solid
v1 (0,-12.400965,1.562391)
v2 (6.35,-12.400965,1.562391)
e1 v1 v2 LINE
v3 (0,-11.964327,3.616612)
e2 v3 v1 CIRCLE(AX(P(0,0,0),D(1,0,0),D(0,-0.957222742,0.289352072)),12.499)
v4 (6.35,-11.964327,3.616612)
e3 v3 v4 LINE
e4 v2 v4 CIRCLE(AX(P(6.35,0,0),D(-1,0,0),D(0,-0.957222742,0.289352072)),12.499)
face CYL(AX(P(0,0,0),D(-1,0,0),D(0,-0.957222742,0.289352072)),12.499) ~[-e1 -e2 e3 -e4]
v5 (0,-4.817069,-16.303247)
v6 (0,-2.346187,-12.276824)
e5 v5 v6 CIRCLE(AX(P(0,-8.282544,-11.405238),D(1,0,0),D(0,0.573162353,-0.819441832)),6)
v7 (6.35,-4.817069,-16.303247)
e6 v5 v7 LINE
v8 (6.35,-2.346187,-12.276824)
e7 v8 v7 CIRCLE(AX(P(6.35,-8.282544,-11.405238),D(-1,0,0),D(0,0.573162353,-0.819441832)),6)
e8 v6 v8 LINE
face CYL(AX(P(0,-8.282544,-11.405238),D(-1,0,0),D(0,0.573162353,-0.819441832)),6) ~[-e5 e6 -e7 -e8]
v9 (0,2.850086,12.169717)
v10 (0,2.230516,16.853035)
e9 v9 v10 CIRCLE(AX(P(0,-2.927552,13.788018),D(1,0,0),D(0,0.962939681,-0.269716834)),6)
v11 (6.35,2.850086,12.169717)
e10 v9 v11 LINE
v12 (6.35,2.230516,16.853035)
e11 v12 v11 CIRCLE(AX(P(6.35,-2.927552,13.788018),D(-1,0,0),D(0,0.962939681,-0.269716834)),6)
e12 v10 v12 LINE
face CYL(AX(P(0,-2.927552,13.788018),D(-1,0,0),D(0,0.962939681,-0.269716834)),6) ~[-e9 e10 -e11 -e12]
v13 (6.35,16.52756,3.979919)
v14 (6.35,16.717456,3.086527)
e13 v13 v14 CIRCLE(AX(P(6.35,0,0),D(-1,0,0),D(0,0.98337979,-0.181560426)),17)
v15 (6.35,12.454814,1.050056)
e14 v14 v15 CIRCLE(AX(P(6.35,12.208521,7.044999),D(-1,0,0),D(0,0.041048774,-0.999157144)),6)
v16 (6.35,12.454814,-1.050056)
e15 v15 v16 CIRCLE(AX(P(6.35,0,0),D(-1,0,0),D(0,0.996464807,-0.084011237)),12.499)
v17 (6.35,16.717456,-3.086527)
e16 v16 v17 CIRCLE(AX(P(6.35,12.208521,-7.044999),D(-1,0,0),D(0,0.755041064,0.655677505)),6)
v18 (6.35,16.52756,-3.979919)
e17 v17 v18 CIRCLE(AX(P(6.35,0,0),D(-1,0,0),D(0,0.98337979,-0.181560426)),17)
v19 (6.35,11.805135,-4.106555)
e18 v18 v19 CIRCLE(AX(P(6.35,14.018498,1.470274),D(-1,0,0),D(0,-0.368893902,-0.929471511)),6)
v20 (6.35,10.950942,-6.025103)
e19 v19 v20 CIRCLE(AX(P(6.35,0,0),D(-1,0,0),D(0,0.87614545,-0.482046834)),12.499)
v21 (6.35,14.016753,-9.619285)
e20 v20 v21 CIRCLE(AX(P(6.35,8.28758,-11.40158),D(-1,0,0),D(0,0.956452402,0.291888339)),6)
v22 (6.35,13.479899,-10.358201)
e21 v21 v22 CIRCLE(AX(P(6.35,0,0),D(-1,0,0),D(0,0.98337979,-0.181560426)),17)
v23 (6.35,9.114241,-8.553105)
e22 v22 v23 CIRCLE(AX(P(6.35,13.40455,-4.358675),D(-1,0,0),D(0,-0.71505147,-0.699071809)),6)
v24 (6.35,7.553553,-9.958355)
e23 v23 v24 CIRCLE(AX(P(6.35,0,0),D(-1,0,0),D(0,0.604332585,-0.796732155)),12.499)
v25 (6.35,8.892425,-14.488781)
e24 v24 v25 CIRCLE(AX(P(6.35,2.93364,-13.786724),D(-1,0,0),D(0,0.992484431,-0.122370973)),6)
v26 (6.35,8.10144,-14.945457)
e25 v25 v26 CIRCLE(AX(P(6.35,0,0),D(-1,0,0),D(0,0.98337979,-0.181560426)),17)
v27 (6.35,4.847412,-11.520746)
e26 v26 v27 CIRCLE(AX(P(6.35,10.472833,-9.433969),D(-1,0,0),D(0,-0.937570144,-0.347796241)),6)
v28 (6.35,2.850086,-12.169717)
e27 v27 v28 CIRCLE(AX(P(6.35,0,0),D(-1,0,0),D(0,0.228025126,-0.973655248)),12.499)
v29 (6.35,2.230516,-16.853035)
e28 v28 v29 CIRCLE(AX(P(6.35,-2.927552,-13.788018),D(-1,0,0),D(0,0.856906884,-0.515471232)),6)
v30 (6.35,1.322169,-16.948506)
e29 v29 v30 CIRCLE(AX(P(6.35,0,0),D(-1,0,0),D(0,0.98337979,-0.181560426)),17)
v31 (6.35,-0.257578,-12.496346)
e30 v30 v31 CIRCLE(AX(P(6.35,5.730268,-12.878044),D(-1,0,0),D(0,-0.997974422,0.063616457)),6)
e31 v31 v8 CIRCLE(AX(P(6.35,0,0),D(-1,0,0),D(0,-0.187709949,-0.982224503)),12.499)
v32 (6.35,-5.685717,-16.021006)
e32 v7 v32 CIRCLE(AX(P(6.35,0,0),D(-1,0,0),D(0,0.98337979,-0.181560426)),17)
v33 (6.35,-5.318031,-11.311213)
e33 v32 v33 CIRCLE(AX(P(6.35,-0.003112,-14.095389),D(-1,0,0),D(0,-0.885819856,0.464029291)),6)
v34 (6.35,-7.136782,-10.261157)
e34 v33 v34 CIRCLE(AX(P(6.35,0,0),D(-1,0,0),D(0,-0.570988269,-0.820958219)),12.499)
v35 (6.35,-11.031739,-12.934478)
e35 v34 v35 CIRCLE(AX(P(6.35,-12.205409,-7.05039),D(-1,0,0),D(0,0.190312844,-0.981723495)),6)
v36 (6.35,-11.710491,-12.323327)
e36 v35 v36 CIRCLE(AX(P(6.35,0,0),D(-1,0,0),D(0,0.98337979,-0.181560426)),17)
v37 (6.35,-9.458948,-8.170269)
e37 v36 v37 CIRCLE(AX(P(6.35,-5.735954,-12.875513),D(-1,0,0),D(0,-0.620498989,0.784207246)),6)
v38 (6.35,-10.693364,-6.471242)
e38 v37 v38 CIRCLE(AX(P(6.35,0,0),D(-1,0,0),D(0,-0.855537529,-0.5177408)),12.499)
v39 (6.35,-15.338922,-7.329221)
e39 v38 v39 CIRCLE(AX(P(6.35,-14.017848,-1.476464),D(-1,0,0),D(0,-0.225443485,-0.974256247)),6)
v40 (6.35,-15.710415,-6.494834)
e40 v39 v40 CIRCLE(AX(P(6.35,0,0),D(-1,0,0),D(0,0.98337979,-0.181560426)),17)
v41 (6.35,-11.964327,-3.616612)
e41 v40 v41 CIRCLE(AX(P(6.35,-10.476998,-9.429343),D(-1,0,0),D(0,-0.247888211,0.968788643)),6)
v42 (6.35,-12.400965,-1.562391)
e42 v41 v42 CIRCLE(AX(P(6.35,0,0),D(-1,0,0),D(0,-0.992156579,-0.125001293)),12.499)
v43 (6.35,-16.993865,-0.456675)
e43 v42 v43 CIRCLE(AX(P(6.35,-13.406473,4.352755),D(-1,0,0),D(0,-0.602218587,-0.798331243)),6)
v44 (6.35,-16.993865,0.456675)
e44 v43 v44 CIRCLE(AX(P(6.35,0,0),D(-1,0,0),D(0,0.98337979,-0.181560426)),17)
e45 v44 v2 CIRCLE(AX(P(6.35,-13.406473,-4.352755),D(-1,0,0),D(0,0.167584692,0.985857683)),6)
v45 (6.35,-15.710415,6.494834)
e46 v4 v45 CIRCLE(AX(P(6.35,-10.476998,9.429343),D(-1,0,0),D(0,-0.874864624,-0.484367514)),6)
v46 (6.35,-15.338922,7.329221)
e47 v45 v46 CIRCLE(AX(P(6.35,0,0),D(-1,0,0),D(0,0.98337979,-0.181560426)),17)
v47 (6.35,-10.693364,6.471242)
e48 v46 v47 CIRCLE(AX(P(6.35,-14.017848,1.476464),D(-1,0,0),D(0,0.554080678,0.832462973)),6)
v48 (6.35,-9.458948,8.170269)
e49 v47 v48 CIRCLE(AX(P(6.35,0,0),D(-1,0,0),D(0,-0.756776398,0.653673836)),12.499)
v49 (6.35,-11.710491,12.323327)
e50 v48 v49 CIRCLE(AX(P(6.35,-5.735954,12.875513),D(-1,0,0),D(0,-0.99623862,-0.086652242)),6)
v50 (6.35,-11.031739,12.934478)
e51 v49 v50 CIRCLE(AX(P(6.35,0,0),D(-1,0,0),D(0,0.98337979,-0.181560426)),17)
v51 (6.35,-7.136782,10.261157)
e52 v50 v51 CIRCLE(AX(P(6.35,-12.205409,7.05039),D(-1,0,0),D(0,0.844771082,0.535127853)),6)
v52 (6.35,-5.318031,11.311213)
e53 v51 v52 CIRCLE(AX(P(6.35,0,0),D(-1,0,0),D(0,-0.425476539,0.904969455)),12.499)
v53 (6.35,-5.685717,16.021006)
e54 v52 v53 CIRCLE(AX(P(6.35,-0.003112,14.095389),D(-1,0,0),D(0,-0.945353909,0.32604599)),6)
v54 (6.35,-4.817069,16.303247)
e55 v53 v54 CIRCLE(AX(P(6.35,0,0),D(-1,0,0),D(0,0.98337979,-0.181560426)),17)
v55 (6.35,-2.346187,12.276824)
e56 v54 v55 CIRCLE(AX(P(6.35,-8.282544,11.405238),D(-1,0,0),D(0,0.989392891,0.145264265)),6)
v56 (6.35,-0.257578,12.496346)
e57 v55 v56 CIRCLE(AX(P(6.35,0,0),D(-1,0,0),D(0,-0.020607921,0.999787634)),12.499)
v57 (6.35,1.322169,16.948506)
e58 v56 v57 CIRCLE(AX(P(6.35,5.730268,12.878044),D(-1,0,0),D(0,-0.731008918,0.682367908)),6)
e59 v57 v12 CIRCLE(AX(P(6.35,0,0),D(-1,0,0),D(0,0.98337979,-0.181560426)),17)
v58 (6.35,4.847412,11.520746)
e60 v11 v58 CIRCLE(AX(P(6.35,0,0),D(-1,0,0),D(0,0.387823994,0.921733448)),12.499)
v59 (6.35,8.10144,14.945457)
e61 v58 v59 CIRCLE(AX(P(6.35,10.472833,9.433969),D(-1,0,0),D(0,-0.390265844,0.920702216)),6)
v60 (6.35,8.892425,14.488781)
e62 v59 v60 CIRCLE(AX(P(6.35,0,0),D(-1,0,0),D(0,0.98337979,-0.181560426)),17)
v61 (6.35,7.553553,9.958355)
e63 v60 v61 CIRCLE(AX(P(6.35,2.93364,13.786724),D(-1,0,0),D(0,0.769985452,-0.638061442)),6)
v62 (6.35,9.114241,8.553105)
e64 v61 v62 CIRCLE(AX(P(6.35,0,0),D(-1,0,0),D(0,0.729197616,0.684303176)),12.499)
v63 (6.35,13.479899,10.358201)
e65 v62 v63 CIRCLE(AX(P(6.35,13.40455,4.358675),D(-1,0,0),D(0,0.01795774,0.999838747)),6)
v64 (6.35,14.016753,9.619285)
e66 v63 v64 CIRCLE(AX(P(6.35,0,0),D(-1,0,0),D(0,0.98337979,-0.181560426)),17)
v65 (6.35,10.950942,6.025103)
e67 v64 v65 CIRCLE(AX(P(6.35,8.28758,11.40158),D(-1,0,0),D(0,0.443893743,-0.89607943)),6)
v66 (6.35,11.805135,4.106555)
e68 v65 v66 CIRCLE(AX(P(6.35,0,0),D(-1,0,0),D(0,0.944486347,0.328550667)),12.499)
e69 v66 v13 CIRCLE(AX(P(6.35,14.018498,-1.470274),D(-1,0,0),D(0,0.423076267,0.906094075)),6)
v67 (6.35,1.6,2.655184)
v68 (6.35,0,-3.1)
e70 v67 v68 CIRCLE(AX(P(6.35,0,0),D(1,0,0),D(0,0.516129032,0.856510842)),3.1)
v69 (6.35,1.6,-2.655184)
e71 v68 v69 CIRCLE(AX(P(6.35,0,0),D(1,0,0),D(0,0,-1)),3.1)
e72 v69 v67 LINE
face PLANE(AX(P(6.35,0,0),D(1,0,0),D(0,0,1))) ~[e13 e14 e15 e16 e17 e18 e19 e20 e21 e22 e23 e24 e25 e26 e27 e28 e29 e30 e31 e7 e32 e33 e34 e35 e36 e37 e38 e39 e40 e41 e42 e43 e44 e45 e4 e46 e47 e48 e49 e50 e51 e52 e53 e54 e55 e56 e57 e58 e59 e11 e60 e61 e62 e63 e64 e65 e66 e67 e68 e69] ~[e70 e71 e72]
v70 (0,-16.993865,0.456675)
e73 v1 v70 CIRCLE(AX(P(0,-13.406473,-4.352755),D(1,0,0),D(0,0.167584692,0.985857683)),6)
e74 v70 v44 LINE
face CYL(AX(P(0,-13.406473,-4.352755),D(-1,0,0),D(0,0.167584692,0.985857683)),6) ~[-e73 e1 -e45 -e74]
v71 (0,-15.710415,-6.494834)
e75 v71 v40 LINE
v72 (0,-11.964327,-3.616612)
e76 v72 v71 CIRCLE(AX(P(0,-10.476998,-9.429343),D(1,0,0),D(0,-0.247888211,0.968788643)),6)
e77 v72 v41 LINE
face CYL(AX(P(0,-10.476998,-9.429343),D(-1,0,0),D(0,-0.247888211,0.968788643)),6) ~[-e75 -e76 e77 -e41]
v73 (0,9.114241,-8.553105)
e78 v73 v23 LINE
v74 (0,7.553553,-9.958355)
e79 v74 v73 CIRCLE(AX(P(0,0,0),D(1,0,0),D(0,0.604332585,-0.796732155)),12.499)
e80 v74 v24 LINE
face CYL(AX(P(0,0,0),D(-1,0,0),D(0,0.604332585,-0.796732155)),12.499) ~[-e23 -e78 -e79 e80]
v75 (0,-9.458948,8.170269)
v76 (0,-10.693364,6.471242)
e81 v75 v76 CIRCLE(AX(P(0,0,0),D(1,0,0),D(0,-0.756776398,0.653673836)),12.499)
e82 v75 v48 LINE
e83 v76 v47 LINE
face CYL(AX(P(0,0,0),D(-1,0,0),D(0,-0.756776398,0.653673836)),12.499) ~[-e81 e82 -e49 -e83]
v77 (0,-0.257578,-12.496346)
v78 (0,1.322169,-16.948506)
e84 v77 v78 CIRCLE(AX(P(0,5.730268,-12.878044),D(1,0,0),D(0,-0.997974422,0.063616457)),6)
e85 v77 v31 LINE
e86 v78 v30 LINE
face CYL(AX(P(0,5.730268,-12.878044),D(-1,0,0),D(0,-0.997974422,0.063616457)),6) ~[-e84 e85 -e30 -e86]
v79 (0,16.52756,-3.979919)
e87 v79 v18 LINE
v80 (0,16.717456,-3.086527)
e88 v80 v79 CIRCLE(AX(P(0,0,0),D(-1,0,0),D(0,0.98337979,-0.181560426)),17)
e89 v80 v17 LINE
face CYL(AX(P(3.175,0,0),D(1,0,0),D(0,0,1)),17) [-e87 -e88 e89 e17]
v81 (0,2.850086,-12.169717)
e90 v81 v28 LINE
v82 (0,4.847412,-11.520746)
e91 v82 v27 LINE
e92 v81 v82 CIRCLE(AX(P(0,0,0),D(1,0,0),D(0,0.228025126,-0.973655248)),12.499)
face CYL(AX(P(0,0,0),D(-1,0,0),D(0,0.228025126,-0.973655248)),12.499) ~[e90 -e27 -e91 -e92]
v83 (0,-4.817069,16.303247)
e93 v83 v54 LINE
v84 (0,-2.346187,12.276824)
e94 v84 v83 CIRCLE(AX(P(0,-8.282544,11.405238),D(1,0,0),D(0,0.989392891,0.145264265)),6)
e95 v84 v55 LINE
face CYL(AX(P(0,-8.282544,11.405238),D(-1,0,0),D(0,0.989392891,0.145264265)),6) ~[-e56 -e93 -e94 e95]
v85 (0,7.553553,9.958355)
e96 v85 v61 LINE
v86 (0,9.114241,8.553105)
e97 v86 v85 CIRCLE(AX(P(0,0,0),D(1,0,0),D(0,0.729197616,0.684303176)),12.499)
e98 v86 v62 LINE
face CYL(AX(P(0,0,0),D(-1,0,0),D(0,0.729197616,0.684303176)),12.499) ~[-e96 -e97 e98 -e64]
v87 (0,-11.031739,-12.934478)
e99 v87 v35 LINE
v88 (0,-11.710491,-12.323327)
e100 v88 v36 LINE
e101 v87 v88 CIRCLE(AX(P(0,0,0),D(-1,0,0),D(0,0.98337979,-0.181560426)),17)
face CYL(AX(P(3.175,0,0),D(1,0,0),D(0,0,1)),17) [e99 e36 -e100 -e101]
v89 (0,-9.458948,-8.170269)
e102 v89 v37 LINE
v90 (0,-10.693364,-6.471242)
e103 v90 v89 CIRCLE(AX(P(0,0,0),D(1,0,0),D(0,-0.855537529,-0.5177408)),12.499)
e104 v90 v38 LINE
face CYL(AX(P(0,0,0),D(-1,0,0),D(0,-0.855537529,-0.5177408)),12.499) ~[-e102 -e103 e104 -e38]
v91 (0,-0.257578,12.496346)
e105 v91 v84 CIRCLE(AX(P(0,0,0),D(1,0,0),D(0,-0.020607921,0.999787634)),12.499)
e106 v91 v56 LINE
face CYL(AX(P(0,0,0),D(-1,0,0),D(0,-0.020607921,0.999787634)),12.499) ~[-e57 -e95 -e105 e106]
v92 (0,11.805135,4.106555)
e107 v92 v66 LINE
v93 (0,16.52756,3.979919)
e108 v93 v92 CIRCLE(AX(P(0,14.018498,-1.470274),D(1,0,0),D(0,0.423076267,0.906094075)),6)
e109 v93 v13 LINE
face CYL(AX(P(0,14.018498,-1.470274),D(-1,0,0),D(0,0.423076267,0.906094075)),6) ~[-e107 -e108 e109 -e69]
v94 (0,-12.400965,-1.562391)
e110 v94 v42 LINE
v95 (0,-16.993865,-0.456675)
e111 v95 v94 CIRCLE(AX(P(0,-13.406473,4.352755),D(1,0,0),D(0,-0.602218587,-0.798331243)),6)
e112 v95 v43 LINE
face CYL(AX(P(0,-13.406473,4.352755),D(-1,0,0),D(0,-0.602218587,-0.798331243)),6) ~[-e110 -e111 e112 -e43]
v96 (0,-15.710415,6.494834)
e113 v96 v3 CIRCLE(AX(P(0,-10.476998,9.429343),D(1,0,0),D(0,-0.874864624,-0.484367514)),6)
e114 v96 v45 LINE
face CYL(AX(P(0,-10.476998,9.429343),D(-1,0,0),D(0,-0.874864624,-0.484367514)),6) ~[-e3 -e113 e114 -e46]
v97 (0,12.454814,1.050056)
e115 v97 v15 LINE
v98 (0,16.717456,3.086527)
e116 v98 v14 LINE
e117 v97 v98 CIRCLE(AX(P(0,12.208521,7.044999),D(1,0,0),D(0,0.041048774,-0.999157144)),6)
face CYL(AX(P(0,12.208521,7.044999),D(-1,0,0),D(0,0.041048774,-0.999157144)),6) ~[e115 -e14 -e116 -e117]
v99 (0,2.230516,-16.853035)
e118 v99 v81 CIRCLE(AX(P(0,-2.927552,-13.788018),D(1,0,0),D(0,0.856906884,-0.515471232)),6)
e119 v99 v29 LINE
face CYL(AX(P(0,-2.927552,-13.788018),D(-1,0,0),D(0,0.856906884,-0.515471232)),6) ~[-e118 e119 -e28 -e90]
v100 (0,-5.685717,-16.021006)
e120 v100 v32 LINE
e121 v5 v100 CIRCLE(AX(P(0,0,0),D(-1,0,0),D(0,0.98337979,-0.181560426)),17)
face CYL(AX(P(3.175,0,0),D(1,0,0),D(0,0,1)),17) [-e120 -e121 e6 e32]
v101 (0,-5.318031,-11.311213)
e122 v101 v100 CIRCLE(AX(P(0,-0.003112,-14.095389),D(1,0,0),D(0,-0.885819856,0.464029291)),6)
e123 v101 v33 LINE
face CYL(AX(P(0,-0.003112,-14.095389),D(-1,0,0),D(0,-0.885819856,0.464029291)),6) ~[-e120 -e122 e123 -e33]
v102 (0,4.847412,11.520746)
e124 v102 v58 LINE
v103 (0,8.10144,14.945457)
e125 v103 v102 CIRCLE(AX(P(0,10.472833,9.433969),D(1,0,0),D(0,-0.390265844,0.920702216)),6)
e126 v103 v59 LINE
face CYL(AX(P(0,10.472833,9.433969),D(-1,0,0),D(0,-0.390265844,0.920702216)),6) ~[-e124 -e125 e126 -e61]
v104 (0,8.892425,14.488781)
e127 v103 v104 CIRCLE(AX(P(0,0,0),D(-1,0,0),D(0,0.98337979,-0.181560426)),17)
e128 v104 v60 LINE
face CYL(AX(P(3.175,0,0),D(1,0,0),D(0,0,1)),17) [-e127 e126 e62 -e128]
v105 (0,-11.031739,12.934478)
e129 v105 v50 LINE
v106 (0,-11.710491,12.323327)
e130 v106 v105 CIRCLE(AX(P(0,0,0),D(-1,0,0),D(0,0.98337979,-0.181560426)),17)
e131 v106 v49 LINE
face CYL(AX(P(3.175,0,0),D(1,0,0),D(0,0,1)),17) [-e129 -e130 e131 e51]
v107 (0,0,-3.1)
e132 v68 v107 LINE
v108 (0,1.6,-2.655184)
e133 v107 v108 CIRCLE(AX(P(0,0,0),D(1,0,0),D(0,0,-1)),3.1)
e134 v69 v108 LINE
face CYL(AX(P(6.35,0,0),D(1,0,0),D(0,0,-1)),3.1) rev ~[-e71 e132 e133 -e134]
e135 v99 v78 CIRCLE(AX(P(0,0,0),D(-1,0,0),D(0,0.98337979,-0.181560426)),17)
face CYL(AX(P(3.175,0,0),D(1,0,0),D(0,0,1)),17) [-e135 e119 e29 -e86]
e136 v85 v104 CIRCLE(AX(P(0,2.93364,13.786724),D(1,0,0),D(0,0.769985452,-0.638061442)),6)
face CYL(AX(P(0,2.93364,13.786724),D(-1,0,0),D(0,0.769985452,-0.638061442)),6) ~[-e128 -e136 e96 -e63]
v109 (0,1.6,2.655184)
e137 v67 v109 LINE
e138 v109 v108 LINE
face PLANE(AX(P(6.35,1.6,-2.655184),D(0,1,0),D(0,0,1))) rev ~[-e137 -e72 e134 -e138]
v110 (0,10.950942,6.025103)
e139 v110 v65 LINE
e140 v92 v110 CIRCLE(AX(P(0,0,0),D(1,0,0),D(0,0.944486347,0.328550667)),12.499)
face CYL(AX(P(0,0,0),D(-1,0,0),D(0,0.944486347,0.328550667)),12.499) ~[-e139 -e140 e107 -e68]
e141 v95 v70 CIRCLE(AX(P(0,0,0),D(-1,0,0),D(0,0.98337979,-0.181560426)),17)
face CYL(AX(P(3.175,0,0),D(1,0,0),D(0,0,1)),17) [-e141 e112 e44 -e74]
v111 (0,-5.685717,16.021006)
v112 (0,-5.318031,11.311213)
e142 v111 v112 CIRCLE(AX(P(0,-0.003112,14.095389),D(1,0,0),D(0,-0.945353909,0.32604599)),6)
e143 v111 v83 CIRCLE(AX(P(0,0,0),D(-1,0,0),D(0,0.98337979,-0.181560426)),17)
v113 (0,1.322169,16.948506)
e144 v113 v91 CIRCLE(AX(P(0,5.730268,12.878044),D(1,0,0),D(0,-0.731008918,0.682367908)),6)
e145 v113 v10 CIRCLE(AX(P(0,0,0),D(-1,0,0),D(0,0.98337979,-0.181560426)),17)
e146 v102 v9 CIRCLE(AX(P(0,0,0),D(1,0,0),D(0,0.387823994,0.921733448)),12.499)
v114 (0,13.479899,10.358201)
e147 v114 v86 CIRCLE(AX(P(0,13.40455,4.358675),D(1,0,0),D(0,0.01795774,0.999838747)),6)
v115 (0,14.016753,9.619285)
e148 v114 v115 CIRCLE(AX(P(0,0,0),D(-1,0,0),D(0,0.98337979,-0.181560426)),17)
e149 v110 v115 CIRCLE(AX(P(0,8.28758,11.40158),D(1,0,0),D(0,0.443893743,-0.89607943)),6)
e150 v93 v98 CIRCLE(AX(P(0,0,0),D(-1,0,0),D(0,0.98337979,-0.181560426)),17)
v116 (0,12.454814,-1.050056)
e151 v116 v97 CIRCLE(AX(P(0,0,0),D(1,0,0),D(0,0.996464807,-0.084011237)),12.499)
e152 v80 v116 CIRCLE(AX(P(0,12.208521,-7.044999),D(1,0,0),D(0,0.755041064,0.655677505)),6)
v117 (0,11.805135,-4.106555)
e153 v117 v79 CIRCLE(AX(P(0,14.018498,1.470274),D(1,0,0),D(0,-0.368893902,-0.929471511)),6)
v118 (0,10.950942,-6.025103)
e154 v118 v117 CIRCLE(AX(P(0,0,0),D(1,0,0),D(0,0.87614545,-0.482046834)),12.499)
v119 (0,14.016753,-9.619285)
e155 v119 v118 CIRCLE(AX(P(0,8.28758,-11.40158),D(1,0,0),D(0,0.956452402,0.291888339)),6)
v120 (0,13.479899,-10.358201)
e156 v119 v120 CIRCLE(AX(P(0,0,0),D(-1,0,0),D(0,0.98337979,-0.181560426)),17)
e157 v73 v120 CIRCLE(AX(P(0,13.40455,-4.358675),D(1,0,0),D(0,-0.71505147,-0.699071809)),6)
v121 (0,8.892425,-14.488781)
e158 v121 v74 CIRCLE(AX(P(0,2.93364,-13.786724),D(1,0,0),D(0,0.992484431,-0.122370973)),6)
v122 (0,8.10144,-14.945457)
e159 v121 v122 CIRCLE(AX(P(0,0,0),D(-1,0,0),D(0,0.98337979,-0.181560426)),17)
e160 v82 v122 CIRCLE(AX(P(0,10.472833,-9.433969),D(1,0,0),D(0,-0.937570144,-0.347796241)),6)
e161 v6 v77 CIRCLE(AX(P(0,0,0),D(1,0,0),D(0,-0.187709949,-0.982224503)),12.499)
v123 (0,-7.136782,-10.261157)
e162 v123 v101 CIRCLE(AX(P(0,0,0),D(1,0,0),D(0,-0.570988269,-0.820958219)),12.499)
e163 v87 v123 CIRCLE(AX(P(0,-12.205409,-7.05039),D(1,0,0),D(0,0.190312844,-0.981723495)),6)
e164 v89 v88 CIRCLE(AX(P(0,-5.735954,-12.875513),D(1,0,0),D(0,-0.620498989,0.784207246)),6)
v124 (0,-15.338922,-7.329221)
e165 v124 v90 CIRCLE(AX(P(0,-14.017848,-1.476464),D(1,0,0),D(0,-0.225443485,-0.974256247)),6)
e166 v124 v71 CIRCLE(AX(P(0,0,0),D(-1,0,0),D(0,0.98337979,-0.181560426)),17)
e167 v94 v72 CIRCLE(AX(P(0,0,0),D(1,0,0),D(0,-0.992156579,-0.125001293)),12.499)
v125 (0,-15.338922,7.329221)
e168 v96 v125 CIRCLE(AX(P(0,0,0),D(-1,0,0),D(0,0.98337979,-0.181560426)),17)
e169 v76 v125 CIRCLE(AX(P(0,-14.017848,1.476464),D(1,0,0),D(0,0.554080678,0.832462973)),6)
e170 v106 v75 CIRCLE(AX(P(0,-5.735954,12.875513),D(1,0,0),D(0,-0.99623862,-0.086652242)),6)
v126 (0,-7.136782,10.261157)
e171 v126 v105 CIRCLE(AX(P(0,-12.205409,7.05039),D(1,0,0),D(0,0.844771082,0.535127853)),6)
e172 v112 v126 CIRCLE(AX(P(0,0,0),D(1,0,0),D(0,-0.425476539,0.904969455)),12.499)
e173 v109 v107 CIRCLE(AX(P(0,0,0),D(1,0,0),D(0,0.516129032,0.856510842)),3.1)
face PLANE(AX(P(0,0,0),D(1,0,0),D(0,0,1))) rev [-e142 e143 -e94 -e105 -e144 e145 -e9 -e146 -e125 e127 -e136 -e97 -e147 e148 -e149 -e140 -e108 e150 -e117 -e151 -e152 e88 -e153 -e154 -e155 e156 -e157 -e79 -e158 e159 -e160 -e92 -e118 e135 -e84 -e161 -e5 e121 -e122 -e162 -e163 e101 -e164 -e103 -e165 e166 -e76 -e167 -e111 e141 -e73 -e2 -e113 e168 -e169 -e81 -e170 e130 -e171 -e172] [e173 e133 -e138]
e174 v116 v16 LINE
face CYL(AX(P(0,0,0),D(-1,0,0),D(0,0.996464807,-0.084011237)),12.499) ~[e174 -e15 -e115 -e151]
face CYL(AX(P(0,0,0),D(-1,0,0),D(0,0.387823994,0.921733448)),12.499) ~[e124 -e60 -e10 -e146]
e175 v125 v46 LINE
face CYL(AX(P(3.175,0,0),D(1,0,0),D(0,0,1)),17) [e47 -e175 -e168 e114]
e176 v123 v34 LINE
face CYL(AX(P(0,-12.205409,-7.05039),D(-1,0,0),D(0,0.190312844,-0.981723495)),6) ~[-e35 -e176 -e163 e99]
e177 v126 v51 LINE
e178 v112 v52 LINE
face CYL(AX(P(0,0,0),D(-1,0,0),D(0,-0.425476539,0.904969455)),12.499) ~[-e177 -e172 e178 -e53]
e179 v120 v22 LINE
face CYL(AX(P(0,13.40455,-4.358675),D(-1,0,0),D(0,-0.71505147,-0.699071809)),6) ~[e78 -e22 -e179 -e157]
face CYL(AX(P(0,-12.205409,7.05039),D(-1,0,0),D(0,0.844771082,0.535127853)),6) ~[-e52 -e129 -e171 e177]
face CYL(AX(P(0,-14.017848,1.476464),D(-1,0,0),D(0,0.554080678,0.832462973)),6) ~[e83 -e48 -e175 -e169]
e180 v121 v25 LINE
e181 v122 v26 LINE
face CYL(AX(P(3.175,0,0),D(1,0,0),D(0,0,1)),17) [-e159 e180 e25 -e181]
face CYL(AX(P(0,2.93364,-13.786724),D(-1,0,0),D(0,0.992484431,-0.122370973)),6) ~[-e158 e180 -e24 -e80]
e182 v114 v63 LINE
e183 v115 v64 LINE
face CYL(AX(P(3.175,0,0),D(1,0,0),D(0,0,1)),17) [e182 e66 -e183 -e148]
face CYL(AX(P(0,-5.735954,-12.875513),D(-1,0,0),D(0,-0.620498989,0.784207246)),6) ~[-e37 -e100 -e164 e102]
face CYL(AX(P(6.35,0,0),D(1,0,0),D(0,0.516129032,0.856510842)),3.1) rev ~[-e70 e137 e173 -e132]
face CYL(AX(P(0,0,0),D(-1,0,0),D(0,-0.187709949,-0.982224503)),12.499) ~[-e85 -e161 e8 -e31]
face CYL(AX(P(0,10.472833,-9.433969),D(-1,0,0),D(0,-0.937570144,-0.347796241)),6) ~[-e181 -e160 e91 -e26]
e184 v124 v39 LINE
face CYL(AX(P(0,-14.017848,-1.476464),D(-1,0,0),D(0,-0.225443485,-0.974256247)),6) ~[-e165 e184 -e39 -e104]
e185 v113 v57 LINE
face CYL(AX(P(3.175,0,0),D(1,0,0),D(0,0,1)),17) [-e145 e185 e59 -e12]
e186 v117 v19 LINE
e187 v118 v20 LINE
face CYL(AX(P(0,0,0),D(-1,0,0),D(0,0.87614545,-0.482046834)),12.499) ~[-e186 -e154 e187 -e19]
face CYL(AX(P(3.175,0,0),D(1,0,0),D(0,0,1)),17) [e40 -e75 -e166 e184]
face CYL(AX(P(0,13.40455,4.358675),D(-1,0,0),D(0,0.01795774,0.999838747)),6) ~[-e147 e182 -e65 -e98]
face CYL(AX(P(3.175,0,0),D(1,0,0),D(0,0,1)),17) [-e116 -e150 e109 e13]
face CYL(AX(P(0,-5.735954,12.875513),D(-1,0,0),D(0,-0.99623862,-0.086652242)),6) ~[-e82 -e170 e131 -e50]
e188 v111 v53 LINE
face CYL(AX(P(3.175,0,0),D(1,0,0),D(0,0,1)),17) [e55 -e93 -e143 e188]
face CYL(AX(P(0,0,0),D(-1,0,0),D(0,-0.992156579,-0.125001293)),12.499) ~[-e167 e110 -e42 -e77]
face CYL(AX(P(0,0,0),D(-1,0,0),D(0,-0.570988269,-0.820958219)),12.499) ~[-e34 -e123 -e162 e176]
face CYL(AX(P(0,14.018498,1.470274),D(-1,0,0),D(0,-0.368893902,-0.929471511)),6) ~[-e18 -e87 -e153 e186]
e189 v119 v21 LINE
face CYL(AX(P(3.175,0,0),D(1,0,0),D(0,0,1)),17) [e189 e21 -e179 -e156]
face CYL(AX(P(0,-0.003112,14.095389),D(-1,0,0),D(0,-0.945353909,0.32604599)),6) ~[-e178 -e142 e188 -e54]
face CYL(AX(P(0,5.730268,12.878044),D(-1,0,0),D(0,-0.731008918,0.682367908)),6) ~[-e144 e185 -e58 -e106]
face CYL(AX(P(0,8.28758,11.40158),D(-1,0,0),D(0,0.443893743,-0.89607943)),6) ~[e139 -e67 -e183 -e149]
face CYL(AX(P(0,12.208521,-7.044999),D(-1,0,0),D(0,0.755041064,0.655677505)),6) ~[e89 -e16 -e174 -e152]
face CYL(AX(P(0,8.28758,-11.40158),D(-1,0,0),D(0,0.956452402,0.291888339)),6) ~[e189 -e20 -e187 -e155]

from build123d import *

# Parameters (mm, degrees)
BASPROSKE_W        = 6.35
BASPROSKE_H        = 17
TOOTHCUT_DEPTH     = 25.86609137
TEETHCUTS_COUNT    = 15
TEETHCUTS_ANGLE    = 336
BORSKE_R           = 0.4
BORE_DEPTH         = 50.0000508
CUT_EXTRUDE1_DEPTH = 10


with BuildPart() as part:
    # BasProSke → Base-Revolve (revolve)
    with BuildSketch(Plane(origin=(0, 0, 0), x_dir=(1, 0, 0), z_dir=(0, 1, 0)), mode=Mode.PRIVATE) as base_revolve_sk:
        with Locations((3.175, 8.5)):
            Rectangle(BASPROSKE_W, BASPROSKE_H)
    revolve(base_revolve_sk.sketch.rotate(Axis((-10, 0, 0), (1, 0, 0)), 180), axis=Axis((-10, 0, 0), (1, 0, 0)))

    # TooCutSke → ToothCut (cut, through all)
    with BuildSketch(Plane(origin=(0, 0, 0), x_dir=(0, 0, -1), z_dir=(1, 0, 0))):
        with BuildLine():
            ThreePointArc((1.050056448, 12.454813626), (0, 12.499), (-1.050056448, 12.454813626))
            ThreePointArc((-1.050056448, 12.454813626), (-1.638118106, 14.809604533), (-3.110934279, 16.73876737))
            ThreePointArc((-3.110934279, 16.73876737), (0, 17.0254), (3.110934279, 16.73876737))
            ThreePointArc((3.110934279, 16.73876737), (1.638118106, 14.809604533), (1.050056448, 12.454813626))
        make_face()
    toothcut = extrude(amount=TOOTHCUT_DEPTH, mode=Mode.SUBTRACT)

    # TeethCuts: ToothCut ×15 about axis
    teethcuts_axis = Axis((-10, 0, 0), (1, 0, 0))
    for i in range(1, TEETHCUTS_COUNT):
        add(toothcut.rotate(teethcuts_axis, i * TEETHCUTS_ANGLE / (TEETHCUTS_COUNT - 1)), mode=Mode.SUBTRACT)

    # BorSke → Bore (cut, symmetric)
    with BuildSketch(Plane(origin=(0, 0, 0), x_dir=(0, 0, -1), z_dir=(1, 0, 0))):
        with Locations(Location((0, 0, 0), (0, 0, 180))):
            Circle(BORSKE_R)
    extrude(amount=BORE_DEPTH, both=True, mode=Mode.SUBTRACT)

    # Sketch1 → Cut-Extrude1 (cut)
    with BuildSketch(Plane(origin=(6.35, 0, 0), x_dir=(0, 0, -1), z_dir=(1, 0, 0))):
        with BuildLine():
            Line((2.655183609, 1.6), (-2.655183609, 1.6))
            ThreePointArc((-2.655183609, 1.6), (-0.830340536, -2.986726401), (3.1, 0))
            ThreePointArc((3.1, 0), (2.986726401, 0.830340536), (2.655183609, 1.6))
        make_face()
    extrude(amount=-CUT_EXTRUDE1_DEPTH, mode=Mode.SUBTRACT)


solid = part.part
